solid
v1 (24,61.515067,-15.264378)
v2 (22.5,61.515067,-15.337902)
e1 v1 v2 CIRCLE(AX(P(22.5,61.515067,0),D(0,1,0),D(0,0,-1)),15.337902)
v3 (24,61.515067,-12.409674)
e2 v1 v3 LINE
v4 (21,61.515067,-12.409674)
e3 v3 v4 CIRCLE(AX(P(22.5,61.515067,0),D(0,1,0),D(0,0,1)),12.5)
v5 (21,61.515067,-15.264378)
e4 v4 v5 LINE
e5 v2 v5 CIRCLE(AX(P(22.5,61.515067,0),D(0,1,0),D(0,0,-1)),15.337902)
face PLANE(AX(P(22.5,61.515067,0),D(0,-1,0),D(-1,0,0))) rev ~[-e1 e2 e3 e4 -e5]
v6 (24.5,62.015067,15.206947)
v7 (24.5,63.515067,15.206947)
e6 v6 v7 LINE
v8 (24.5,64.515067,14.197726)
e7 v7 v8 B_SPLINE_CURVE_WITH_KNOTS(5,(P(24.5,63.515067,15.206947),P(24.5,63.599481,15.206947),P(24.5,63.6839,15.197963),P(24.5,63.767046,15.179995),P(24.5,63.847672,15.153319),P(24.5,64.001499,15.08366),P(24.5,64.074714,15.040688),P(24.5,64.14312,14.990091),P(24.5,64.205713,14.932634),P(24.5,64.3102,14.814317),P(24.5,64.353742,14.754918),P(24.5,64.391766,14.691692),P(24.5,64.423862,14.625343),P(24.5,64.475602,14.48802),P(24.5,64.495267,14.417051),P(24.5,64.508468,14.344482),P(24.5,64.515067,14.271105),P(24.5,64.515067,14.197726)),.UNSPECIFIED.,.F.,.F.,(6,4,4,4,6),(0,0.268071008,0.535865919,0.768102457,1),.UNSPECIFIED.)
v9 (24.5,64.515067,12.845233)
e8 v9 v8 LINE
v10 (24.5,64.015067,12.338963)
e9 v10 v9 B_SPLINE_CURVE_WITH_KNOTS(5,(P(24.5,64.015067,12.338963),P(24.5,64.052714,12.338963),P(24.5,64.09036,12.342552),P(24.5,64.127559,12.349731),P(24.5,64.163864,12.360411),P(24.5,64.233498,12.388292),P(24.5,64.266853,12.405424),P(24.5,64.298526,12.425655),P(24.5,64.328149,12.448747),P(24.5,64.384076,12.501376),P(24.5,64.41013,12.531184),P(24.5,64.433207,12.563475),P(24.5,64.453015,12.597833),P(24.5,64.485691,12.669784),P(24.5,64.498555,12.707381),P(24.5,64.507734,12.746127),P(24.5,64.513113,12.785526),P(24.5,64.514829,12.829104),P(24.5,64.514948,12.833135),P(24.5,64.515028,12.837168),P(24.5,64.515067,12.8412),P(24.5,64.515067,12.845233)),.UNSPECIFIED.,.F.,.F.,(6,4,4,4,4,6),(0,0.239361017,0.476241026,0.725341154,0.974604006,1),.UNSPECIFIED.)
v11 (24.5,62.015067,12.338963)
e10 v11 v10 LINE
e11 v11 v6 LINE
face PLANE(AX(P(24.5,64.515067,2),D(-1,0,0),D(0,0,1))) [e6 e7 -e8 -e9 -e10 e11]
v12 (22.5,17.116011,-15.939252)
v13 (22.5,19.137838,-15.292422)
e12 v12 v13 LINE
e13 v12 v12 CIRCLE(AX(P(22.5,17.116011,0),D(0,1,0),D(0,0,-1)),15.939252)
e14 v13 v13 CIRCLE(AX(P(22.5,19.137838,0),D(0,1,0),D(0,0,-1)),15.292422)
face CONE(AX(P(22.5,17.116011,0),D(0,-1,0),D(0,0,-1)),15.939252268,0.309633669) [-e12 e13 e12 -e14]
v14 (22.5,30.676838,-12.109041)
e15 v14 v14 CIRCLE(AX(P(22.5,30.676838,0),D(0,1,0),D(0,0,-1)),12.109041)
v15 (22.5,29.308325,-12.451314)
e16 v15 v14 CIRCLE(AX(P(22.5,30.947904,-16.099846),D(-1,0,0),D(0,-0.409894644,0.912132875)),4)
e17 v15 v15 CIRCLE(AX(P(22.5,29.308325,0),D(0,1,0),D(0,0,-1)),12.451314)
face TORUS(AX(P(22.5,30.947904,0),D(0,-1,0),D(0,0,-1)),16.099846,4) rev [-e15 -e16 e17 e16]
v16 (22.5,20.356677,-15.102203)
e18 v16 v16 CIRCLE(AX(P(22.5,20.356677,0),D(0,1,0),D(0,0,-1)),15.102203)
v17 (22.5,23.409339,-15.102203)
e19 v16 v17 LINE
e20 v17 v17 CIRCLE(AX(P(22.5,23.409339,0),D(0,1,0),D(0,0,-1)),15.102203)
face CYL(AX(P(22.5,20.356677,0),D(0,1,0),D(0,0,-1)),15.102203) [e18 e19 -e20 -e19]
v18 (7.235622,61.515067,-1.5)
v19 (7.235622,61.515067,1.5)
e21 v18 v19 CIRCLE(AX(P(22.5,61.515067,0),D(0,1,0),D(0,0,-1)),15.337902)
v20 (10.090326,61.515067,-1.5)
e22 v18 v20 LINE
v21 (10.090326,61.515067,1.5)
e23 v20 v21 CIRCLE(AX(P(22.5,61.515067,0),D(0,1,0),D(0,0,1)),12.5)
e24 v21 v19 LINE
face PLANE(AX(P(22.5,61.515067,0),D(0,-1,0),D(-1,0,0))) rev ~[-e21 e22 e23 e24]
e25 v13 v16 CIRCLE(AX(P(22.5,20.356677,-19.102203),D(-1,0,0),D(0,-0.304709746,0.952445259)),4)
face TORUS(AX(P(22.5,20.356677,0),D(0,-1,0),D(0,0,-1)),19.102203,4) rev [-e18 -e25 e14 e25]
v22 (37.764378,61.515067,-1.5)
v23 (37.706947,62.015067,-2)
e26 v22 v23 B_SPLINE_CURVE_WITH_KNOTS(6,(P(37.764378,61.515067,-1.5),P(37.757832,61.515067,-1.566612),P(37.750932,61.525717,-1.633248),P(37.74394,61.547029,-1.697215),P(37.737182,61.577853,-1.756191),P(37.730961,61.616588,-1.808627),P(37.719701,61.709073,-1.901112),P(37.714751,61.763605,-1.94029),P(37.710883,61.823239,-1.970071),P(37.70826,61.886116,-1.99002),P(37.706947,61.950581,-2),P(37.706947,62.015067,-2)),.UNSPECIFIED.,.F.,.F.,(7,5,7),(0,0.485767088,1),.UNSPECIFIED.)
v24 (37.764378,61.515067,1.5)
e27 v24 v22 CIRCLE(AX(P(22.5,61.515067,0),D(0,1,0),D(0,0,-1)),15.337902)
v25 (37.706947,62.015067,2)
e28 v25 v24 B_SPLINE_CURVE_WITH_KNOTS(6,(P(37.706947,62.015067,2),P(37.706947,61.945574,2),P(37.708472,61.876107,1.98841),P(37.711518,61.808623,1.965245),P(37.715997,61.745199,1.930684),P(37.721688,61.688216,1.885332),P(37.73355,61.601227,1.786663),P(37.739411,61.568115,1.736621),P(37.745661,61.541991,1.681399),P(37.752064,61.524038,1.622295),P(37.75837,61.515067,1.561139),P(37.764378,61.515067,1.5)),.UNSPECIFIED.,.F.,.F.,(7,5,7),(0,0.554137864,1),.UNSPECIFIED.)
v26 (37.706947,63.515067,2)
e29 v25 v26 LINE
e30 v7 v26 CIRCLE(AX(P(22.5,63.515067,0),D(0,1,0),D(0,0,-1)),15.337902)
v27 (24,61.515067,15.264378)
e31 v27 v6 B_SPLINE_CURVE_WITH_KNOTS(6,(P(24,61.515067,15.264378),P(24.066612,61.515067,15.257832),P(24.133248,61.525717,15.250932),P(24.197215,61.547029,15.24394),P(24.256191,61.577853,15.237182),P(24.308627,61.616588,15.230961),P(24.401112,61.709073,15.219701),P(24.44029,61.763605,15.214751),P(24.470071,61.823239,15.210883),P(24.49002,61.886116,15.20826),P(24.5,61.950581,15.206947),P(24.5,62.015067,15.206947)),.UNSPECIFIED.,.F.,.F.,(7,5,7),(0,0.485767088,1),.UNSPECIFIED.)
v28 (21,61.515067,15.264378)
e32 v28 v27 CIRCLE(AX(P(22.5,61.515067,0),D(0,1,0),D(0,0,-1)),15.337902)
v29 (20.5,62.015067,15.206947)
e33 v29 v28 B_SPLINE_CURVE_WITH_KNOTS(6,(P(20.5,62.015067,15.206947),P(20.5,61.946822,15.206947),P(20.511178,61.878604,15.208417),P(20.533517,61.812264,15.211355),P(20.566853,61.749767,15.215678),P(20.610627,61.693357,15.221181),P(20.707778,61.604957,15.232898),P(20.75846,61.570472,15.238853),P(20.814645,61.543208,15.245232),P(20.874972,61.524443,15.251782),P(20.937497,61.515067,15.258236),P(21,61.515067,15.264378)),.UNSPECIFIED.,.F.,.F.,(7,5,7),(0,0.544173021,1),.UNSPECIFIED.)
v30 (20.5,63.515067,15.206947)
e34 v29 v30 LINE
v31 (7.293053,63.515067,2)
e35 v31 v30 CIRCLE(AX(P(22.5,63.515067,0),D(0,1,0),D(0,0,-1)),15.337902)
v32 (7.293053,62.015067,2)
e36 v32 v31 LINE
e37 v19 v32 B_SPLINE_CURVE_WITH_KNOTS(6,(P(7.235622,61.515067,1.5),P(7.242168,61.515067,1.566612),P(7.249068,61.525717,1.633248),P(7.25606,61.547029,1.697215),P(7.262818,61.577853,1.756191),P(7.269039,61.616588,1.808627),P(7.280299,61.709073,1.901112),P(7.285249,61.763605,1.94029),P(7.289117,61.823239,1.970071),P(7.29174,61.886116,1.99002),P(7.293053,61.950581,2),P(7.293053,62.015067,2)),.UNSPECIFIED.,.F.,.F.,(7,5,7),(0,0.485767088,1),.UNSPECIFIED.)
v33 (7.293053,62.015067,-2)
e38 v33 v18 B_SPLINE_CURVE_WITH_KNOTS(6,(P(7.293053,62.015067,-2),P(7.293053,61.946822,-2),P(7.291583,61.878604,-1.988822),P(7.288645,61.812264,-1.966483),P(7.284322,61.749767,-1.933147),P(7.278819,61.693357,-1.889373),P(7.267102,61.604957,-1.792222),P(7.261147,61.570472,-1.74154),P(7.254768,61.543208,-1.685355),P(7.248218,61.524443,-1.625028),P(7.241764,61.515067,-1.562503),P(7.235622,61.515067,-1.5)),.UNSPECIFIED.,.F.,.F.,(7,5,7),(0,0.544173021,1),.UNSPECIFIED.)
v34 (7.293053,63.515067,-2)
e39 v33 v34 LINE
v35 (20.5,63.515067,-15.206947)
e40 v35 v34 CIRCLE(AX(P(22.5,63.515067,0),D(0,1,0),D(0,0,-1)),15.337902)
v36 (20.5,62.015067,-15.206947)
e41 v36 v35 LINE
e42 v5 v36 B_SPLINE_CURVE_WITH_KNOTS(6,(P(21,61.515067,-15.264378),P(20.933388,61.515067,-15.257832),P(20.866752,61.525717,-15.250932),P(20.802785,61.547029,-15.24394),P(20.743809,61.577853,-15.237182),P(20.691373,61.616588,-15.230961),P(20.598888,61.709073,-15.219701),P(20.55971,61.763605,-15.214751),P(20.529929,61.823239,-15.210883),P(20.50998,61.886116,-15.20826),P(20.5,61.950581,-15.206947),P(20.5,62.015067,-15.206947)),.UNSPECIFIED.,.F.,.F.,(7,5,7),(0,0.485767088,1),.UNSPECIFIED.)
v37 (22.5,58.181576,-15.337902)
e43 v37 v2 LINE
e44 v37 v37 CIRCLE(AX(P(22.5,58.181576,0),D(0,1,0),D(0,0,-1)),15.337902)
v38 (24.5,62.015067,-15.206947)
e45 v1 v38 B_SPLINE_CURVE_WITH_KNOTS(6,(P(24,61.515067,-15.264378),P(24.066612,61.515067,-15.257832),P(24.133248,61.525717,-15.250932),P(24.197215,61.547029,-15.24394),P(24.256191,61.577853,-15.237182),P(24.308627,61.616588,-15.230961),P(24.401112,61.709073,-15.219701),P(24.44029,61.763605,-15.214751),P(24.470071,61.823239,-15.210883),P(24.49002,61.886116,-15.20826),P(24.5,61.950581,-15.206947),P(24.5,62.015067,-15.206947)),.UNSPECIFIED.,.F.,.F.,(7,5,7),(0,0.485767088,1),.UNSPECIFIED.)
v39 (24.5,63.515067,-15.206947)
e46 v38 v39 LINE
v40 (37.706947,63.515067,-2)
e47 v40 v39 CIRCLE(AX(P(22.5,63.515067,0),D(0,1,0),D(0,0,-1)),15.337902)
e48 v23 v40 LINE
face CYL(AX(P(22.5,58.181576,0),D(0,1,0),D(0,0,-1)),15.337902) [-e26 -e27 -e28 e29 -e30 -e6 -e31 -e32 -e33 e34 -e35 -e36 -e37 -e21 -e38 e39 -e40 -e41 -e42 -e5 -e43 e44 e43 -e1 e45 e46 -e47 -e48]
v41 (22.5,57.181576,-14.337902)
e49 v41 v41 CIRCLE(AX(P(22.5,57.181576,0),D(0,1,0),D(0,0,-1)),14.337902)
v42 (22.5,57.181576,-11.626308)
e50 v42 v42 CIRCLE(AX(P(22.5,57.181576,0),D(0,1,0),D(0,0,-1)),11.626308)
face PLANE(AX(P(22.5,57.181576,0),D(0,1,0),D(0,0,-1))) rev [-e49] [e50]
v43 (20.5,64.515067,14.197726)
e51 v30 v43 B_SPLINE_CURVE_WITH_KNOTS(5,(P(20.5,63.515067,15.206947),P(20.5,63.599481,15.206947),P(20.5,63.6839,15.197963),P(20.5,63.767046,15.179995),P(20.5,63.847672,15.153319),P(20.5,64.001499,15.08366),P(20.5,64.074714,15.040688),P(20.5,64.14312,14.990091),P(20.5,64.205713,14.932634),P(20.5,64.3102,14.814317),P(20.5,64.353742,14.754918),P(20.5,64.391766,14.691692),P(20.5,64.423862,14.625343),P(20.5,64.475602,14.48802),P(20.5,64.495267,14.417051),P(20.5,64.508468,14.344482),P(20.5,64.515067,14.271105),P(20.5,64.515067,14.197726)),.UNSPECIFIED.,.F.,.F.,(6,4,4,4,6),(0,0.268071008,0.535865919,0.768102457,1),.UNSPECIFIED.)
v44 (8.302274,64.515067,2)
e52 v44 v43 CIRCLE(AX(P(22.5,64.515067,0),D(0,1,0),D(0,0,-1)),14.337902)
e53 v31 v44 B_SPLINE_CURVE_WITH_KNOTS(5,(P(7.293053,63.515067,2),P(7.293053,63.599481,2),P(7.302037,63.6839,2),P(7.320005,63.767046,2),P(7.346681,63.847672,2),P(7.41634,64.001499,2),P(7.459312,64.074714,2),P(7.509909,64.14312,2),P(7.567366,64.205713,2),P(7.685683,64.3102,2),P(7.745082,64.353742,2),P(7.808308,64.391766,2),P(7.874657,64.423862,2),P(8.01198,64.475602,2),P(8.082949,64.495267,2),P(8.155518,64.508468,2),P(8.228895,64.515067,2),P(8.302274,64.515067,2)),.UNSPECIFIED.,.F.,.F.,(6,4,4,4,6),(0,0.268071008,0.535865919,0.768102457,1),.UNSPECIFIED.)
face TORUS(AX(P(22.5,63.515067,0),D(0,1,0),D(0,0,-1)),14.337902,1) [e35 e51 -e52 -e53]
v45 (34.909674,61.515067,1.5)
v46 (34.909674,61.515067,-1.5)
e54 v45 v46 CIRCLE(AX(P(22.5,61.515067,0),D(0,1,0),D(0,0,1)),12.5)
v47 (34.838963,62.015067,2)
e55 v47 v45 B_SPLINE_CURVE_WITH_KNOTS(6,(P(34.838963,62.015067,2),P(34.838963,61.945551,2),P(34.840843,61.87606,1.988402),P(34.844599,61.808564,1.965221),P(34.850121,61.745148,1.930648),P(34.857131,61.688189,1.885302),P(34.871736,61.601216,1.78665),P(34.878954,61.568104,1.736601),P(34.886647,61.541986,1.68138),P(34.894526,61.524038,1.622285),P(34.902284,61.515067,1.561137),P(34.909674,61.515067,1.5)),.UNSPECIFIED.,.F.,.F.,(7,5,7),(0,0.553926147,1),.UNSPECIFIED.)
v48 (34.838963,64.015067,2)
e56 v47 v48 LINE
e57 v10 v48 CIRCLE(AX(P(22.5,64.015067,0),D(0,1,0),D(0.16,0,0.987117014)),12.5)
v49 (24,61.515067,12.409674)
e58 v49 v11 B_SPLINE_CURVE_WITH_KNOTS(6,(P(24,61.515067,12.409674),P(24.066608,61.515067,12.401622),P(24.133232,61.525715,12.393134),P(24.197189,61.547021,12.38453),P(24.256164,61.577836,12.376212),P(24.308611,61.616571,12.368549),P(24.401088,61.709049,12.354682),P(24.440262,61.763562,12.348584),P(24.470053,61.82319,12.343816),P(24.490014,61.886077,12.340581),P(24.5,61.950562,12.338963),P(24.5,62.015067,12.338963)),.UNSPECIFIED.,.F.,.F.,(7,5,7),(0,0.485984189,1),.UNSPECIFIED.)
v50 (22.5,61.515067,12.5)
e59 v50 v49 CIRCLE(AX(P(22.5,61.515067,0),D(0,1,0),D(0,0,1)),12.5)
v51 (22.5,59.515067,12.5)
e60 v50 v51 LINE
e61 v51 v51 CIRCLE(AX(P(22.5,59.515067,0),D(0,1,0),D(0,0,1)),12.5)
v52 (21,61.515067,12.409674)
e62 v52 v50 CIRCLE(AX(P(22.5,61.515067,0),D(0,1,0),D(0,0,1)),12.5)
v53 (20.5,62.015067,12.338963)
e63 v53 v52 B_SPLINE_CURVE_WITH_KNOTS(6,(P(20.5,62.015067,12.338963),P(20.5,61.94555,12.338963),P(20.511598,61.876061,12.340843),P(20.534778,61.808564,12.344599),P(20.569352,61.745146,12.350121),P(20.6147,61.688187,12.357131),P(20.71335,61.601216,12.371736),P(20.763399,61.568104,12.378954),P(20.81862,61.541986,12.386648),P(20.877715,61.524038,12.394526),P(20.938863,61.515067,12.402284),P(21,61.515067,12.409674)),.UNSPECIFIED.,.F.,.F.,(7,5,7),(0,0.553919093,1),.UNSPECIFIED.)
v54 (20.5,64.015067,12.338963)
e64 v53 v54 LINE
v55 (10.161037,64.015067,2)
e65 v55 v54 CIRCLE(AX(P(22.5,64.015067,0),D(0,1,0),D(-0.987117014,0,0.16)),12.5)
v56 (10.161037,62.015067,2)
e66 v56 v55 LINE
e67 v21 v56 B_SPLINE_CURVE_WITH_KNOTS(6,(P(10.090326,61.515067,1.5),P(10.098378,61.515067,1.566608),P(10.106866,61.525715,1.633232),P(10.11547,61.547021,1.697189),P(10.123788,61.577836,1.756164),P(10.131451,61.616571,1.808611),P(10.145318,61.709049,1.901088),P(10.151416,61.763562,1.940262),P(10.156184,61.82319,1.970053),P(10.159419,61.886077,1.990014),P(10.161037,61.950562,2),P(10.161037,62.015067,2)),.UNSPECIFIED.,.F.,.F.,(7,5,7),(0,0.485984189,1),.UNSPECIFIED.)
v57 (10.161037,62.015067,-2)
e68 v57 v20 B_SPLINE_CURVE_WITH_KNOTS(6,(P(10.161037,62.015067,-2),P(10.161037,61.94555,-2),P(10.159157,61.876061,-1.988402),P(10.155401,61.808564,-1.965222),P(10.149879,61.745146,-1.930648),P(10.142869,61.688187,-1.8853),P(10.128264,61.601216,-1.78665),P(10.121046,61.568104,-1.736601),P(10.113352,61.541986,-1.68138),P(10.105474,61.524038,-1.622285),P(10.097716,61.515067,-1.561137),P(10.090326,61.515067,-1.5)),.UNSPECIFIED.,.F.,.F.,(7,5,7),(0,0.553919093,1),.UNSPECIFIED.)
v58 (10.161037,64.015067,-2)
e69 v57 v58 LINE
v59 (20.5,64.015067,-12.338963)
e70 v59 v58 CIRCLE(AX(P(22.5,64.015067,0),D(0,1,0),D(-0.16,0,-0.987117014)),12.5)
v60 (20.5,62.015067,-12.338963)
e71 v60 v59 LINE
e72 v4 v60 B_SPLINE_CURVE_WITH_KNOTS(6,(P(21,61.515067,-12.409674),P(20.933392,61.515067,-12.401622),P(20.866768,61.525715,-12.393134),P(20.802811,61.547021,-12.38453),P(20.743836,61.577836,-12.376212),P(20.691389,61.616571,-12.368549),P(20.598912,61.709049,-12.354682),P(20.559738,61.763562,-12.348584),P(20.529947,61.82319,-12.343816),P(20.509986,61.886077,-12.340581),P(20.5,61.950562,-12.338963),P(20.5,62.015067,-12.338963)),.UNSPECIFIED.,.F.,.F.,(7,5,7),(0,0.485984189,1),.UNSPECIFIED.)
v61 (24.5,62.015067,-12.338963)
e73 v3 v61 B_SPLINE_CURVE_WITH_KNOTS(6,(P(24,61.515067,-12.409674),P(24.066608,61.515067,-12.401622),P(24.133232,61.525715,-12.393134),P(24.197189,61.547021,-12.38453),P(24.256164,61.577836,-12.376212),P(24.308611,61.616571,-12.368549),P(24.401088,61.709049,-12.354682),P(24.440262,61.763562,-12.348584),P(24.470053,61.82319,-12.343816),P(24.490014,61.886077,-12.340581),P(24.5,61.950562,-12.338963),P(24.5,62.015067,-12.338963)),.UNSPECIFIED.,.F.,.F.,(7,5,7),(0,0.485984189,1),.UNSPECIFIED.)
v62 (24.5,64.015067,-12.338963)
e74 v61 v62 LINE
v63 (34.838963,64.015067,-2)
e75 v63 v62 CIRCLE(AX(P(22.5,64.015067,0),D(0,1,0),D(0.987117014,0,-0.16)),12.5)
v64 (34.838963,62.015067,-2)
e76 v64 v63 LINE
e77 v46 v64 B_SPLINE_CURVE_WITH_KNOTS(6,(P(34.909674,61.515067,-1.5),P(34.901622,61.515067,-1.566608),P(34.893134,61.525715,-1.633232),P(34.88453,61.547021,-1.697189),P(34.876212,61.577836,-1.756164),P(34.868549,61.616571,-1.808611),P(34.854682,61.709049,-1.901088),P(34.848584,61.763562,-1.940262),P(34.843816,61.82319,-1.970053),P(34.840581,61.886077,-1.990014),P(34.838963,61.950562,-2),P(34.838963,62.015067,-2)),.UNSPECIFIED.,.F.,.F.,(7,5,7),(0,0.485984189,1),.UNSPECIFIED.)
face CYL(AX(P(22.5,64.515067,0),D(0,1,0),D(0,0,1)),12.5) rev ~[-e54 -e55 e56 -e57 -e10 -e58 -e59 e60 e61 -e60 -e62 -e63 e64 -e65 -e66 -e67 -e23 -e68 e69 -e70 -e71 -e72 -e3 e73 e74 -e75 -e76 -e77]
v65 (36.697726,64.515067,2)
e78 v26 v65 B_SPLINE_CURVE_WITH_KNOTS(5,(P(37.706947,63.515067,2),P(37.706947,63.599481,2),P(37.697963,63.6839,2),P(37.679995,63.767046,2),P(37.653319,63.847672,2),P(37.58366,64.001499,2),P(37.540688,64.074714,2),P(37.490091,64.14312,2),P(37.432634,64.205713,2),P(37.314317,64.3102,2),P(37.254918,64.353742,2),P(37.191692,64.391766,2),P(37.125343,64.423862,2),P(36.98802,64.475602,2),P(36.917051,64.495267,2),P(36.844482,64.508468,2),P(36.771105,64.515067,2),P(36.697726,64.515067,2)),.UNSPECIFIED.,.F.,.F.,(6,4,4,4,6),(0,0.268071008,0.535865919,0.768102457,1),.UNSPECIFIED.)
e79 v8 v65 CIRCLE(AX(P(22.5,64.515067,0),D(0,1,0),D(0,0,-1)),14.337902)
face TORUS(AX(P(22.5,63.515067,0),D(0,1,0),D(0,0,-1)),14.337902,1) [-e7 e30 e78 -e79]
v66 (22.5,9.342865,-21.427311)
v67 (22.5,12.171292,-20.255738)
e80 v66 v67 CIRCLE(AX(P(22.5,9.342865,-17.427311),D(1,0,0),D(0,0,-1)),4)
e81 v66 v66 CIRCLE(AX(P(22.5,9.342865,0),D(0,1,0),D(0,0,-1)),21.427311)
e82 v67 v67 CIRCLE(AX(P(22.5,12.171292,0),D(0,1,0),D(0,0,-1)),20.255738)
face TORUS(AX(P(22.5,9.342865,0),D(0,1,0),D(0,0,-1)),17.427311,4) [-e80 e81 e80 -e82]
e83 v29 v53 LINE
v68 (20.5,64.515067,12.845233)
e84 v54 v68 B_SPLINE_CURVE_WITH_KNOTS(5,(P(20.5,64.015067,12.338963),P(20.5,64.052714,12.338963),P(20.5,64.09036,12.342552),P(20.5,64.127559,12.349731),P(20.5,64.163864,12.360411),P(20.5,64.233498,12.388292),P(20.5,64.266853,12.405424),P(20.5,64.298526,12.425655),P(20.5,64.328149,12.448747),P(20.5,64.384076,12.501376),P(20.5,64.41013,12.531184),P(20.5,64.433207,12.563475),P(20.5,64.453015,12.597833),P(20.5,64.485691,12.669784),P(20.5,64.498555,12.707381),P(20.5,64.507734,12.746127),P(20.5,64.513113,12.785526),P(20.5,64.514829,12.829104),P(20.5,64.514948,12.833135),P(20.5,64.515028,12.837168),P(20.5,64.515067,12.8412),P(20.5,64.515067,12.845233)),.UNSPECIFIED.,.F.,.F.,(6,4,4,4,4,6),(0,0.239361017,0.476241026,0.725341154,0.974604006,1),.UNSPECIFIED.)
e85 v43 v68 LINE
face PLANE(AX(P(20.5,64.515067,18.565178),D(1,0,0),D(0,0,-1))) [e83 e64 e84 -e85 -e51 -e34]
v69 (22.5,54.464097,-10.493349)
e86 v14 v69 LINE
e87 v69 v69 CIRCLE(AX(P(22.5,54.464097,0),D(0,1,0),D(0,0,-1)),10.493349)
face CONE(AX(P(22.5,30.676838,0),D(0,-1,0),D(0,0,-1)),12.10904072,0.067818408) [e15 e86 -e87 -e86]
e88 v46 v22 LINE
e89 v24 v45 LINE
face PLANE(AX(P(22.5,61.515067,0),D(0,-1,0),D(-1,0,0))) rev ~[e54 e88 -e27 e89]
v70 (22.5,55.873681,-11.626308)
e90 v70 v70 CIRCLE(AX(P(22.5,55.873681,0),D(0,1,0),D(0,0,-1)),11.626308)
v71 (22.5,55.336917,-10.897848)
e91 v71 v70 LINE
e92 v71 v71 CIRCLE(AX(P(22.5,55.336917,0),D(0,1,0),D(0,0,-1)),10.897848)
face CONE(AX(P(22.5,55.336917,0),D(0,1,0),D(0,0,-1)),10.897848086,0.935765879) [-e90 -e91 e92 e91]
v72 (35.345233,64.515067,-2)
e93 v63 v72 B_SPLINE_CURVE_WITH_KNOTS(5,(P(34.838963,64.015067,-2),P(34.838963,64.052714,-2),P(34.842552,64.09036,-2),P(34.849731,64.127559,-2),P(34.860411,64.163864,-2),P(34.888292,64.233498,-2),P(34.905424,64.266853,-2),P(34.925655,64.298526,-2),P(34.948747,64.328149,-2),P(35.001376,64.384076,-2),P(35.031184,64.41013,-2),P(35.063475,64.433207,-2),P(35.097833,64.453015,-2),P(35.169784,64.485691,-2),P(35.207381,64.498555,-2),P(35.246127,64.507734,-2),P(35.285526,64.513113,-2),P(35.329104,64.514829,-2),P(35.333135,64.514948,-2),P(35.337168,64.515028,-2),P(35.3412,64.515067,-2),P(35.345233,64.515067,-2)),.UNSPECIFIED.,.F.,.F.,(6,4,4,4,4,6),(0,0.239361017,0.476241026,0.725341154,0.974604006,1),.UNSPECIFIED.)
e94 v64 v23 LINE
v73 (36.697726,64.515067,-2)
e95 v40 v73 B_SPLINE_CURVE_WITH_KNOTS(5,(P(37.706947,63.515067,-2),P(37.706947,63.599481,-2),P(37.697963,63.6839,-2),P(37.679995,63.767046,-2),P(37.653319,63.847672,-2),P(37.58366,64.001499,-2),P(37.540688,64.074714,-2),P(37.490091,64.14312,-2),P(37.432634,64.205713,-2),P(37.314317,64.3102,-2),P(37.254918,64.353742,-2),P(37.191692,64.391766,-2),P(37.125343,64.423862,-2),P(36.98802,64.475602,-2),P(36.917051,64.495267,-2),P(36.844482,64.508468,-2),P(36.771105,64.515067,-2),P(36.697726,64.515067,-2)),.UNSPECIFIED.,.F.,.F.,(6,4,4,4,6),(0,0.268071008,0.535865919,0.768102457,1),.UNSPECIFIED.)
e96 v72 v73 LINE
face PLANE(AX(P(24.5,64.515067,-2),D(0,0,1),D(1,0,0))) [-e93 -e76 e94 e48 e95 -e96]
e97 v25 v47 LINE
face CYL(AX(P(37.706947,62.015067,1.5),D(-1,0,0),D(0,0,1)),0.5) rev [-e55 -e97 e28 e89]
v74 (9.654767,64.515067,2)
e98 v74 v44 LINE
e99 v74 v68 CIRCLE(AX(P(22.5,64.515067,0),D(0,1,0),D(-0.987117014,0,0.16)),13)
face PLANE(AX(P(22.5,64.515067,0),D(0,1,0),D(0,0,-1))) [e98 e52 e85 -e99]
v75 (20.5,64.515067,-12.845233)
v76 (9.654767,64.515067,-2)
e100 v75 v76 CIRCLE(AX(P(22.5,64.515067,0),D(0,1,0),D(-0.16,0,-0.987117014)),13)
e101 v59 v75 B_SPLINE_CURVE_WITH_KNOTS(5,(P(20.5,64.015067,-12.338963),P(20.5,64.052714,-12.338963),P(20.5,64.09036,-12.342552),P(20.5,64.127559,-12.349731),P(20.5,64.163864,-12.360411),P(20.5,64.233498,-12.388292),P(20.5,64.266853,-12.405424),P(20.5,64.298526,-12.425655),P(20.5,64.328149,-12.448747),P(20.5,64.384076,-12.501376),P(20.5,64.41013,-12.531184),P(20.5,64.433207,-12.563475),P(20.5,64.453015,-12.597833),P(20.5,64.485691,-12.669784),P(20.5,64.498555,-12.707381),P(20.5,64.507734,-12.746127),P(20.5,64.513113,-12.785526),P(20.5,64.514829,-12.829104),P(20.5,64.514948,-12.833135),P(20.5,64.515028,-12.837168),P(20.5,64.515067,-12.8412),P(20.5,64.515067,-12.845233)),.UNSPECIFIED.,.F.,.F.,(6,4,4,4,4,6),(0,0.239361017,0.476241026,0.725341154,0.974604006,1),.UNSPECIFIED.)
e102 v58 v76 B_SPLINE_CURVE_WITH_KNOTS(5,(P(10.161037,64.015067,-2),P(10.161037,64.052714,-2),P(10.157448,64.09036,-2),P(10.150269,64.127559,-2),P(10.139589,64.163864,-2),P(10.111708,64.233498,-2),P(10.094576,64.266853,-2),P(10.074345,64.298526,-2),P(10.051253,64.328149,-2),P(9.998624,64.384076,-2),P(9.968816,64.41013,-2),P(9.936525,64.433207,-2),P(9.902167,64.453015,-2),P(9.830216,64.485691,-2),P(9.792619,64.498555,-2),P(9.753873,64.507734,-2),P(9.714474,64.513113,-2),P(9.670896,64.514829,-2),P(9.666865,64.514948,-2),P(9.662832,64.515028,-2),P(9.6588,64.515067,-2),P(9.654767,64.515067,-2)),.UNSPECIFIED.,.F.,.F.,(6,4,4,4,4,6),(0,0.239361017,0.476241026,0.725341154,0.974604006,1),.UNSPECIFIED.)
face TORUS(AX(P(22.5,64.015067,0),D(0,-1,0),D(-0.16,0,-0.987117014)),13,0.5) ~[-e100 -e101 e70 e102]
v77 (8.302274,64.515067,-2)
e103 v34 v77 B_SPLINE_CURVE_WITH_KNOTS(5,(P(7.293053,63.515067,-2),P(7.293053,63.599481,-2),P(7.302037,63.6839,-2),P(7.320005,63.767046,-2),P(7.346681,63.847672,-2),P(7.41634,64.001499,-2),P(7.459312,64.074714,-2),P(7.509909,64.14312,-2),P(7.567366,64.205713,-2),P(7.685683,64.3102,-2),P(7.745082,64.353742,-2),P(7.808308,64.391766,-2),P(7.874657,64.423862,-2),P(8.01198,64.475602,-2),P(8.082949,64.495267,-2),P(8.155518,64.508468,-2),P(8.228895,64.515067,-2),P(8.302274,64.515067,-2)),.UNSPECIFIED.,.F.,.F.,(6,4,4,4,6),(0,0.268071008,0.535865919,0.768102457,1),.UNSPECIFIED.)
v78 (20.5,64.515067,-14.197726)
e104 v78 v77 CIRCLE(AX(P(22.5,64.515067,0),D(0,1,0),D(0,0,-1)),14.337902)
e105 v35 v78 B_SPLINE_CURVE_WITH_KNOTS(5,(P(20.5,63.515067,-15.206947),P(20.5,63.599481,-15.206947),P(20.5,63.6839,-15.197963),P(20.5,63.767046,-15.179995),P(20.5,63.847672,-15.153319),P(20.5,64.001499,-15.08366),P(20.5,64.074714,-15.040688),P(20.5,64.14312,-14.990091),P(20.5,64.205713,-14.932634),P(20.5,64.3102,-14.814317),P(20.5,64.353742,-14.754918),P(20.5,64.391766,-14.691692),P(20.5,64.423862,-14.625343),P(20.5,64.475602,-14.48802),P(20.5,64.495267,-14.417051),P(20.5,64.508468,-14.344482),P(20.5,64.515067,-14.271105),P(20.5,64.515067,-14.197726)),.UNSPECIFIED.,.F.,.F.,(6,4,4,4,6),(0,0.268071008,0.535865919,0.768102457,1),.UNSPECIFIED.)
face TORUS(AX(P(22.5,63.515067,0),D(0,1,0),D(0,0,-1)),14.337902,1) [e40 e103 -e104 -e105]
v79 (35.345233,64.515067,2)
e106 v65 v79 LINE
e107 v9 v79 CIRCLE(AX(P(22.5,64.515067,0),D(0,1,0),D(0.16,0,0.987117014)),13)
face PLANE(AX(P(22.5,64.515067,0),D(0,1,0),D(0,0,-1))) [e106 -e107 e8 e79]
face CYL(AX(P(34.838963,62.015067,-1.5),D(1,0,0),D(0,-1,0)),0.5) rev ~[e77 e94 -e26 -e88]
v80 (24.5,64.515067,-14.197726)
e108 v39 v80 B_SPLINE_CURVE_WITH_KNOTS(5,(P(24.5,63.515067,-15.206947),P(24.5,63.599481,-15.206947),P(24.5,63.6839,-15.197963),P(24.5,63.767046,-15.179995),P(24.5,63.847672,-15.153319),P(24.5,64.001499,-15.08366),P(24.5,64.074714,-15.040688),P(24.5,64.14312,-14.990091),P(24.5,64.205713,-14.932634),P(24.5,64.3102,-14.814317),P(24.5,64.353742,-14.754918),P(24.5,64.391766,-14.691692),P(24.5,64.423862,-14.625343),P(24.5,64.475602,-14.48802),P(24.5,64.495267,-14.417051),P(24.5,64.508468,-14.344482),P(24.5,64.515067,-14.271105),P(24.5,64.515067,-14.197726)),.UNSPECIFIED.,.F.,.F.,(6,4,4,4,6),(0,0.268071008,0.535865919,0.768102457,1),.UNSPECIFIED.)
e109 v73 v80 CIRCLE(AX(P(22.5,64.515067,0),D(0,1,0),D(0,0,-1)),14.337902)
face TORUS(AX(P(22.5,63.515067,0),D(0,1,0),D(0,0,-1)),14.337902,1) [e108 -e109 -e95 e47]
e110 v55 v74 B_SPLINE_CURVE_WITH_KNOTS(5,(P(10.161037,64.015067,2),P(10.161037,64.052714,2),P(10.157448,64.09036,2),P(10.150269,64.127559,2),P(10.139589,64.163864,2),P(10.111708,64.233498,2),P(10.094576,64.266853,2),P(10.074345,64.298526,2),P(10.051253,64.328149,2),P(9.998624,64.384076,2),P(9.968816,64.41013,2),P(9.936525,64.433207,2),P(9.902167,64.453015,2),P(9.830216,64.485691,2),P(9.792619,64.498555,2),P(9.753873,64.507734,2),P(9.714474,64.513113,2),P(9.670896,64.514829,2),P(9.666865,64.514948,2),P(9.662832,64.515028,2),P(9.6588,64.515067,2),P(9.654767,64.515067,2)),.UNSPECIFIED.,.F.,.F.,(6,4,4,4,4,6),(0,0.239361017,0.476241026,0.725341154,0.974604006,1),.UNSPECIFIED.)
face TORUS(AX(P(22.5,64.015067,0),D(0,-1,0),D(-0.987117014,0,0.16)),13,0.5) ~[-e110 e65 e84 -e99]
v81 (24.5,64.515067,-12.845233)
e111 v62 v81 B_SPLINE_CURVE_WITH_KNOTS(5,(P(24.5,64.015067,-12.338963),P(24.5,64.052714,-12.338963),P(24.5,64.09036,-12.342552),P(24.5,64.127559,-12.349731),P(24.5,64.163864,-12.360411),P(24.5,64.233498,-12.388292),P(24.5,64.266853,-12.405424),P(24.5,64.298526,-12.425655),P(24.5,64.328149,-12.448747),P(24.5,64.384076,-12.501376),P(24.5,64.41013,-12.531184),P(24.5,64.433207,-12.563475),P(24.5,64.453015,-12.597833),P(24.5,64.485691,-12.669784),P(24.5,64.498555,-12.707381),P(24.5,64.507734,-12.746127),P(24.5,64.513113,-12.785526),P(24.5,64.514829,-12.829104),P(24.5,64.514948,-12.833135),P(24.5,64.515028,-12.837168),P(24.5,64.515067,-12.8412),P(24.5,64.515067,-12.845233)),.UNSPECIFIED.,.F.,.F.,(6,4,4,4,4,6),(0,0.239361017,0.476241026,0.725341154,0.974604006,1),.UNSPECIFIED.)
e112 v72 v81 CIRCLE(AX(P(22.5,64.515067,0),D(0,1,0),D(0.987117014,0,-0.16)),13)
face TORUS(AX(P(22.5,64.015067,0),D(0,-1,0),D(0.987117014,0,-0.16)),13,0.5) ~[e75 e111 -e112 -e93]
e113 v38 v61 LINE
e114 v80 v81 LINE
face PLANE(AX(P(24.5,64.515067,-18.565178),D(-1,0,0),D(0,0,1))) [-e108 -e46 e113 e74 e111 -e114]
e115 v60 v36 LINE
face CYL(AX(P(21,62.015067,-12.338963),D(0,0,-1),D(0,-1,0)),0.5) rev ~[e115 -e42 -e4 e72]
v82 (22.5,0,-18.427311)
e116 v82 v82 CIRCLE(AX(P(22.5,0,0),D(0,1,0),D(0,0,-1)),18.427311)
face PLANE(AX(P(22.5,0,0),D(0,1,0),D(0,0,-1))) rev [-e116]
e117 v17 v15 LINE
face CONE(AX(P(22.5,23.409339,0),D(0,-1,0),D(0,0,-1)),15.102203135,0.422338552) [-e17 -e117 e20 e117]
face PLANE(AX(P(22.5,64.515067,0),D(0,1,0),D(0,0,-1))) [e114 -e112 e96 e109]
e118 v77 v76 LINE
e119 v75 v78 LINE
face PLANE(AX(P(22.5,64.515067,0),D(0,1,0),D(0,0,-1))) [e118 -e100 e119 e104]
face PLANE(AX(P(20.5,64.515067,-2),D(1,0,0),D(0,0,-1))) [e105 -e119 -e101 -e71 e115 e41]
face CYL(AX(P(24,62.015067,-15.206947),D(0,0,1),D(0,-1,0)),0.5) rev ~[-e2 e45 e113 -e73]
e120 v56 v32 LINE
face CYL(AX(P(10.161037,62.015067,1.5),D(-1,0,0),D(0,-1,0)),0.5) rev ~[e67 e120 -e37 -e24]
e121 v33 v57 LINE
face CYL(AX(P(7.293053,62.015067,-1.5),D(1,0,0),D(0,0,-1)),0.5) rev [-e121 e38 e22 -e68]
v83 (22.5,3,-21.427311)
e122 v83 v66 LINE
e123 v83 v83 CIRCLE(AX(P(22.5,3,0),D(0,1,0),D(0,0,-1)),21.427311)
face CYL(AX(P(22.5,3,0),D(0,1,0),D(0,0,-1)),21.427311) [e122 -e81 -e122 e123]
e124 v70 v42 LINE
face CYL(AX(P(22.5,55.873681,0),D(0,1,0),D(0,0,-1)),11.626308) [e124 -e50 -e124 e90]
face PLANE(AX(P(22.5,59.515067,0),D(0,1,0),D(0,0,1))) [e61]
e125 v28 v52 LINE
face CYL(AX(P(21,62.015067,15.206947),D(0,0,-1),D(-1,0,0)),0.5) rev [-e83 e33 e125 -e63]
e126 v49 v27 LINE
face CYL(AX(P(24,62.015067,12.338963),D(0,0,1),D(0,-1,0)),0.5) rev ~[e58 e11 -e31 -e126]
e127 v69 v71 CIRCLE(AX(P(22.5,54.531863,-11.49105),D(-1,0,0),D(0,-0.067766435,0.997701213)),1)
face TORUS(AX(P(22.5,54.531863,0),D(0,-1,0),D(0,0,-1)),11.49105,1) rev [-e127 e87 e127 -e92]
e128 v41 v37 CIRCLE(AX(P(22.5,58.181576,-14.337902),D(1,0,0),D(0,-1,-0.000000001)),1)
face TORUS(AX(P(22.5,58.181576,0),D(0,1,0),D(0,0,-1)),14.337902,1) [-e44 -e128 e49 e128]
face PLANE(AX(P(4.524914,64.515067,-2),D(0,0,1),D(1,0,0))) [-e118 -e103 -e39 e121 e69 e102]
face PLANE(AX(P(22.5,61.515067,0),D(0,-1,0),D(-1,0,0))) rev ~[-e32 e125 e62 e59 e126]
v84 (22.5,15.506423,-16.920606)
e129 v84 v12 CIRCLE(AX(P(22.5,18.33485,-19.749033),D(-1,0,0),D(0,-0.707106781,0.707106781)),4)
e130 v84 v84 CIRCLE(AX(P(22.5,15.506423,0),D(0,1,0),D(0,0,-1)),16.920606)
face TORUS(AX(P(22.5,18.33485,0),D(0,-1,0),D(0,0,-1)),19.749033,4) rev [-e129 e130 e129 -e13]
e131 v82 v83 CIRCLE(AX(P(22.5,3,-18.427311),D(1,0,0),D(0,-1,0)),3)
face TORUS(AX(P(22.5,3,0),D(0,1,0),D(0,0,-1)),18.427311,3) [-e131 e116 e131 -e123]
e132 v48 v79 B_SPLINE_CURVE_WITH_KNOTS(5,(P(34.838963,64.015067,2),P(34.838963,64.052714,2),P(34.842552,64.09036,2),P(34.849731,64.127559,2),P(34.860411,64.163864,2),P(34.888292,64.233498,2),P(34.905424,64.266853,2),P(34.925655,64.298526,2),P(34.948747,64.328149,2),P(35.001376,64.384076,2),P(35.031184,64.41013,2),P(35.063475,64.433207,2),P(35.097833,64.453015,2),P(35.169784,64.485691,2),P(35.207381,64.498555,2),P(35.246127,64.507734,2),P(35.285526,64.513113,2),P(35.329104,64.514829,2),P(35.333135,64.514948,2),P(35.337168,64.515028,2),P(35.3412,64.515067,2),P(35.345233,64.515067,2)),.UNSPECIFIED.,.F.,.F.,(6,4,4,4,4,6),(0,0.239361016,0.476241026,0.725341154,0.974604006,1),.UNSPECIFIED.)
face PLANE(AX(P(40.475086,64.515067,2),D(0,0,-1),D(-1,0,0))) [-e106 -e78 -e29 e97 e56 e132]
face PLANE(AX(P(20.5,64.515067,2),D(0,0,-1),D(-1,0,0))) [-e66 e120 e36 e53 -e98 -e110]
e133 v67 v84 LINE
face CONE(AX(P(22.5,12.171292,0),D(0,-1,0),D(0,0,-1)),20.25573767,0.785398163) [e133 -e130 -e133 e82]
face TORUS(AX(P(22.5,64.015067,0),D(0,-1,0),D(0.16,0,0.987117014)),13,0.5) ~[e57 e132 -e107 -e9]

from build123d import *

# Parameters (mm, degrees)
SKETCH3_R          = 12.5
CUT_EXTRUDE1_DEPTH = 5
CUT_EXTRUDE2_DEPTH = 3
FILLET1_R          = 0.5
FILLET2_R          = 0.5


with BuildPart() as part:
    # Sketch2 → Revolve1 (revolve)
    with BuildSketch(Plane.XY, mode=Mode.PRIVATE) as revolve1_sk:
        with BuildLine():
            Line((1.072689454, 3), (1.072689454, 5.466621399))
            Line((1.072689454, 5.466621399), (1.072689454, 9.342864583))
            ThreePointArc((1.072689454, 9.342864583), (1.377171324, 10.873598312), (2.24426233, 12.171291707))
            Line((2.24426233, 12.171291707), (5.579393823, 15.5064232))
            ThreePointArc((5.579393823, 15.5064232), (6.166247856, 16.252578822), (6.560747732, 17.11601134))
            Line((6.560747732, 17.11601134), (7.207577899, 19.137838122))
            ThreePointArc((7.207577899, 19.137838122), (7.34995603, 19.739880599), (7.397796865, 20.356677106))
            Line((7.397796865, 20.356677106), (7.397796865, 23.409338687))
            Line((7.397796865, 23.409338687), (10.048685929, 29.308325435))
            ThreePointArc((10.048685929, 29.308325435), (10.280627573, 29.977374162), (10.39095928, 30.676838271))
            Line((10.39095928, 30.676838271), (12.006651099, 54.464097023))
            ThreePointArc((12.006651099, 54.464097023), (11.91625193, 54.952342947), (11.602151914, 55.336917091))
            Line((11.602151914, 55.336917091), (10.873692195, 55.873681057))
            Line((10.873692195, 55.873681057), (10.873692195, 57.181576197))
            Line((10.873692195, 57.181576197), (8.162097879, 57.181576197))
            ThreePointArc((8.162097879, 57.181576197), (7.454991098, 57.474469416), (7.162097879, 58.181576197))
            Line((7.162097879, 58.181576197), (7.162097879, 63.515067487))
            ThreePointArc((7.162097879, 63.515067487), (7.454991098, 64.222174269), (8.162097879, 64.515067487))
            Line((8.162097879, 64.515067487), (22.5, 64.515067487))
            Line((22.5, 64.515067487), (22.5, 0))
            Line((22.5, 0), (4.072689454, 0))
            ThreePointArc((4.072689454, 0), (1.951369111, 0.878679656), (1.072689454, 3))
        make_face()
    revolve(revolve1_sk.sketch.rotate(Axis((22.5, 0, 0), (0, 1, 0)), 270), axis=Axis((22.5, 0, 0), (0, 1, 0)))

    # Sketch3 → Cut-Extrude1 (cut)
    with BuildSketch(Plane(origin=(0, 64.515067487, 0), x_dir=(1, 0, 0), z_dir=(0, 1, 0))):
        with Locations(Location((22.5, 0, 0), (0, 0, 270))):
            Circle(SKETCH3_R)
    extrude(amount=-CUT_EXTRUDE1_DEPTH, mode=Mode.SUBTRACT)

    # Sketch4 → Cut-Extrude2 (cut)
    with BuildSketch(Plane(origin=(0, 64.515067487, 0), x_dir=(1, 0, 0), z_dir=(0, 1, 0))):
        Polygon((20.5, -2), (4.52491368, -2), (4.52491368, 2), (20.5, 2), (20.5, 18.565177538), (24.5, 18.565177538), (24.5, 2), (40.47508632, 2), (40.47508632, -2), (24.5, -2), (24.5, -18.565177538), (20.5, -18.565177538), align=None)
    extrude(amount=-CUT_EXTRUDE2_DEPTH, mode=Mode.SUBTRACT)

    # Fillet1
    fillet1_edges = [part.edges().sort_by_distance(p)[0] for p in [
        (8.727045088, 61.515067487, -2),
        (20.5, 61.515067487, -13.772954912),
        (24.5, 61.515067487, -13.772954912),
        (36.272954912, 61.515067487, -2),
        (36.272954912, 61.515067487, 2),
        (24.5, 61.515067487, 13.772954912),
        (20.5, 61.515067487, 13.772954912),
        (8.727045088, 61.515067487, 2),
    ]]
    fillet(fillet1_edges, radius=FILLET1_R)

    # Fillet2
    fillet2_edges = [part.edges().sort_by_distance(p)[0] for p in [
        (31.338834765, 64.515067487, 8.838834765),
        (31.338834765, 64.515067487, -8.838834765),
        (13.661165235, 64.515067487, -8.838834765),
        (13.661165235, 64.515067487, 8.838834765),
    ]]
    fillet(fillet2_edges, radius=FILLET2_R)


solid = part.part
